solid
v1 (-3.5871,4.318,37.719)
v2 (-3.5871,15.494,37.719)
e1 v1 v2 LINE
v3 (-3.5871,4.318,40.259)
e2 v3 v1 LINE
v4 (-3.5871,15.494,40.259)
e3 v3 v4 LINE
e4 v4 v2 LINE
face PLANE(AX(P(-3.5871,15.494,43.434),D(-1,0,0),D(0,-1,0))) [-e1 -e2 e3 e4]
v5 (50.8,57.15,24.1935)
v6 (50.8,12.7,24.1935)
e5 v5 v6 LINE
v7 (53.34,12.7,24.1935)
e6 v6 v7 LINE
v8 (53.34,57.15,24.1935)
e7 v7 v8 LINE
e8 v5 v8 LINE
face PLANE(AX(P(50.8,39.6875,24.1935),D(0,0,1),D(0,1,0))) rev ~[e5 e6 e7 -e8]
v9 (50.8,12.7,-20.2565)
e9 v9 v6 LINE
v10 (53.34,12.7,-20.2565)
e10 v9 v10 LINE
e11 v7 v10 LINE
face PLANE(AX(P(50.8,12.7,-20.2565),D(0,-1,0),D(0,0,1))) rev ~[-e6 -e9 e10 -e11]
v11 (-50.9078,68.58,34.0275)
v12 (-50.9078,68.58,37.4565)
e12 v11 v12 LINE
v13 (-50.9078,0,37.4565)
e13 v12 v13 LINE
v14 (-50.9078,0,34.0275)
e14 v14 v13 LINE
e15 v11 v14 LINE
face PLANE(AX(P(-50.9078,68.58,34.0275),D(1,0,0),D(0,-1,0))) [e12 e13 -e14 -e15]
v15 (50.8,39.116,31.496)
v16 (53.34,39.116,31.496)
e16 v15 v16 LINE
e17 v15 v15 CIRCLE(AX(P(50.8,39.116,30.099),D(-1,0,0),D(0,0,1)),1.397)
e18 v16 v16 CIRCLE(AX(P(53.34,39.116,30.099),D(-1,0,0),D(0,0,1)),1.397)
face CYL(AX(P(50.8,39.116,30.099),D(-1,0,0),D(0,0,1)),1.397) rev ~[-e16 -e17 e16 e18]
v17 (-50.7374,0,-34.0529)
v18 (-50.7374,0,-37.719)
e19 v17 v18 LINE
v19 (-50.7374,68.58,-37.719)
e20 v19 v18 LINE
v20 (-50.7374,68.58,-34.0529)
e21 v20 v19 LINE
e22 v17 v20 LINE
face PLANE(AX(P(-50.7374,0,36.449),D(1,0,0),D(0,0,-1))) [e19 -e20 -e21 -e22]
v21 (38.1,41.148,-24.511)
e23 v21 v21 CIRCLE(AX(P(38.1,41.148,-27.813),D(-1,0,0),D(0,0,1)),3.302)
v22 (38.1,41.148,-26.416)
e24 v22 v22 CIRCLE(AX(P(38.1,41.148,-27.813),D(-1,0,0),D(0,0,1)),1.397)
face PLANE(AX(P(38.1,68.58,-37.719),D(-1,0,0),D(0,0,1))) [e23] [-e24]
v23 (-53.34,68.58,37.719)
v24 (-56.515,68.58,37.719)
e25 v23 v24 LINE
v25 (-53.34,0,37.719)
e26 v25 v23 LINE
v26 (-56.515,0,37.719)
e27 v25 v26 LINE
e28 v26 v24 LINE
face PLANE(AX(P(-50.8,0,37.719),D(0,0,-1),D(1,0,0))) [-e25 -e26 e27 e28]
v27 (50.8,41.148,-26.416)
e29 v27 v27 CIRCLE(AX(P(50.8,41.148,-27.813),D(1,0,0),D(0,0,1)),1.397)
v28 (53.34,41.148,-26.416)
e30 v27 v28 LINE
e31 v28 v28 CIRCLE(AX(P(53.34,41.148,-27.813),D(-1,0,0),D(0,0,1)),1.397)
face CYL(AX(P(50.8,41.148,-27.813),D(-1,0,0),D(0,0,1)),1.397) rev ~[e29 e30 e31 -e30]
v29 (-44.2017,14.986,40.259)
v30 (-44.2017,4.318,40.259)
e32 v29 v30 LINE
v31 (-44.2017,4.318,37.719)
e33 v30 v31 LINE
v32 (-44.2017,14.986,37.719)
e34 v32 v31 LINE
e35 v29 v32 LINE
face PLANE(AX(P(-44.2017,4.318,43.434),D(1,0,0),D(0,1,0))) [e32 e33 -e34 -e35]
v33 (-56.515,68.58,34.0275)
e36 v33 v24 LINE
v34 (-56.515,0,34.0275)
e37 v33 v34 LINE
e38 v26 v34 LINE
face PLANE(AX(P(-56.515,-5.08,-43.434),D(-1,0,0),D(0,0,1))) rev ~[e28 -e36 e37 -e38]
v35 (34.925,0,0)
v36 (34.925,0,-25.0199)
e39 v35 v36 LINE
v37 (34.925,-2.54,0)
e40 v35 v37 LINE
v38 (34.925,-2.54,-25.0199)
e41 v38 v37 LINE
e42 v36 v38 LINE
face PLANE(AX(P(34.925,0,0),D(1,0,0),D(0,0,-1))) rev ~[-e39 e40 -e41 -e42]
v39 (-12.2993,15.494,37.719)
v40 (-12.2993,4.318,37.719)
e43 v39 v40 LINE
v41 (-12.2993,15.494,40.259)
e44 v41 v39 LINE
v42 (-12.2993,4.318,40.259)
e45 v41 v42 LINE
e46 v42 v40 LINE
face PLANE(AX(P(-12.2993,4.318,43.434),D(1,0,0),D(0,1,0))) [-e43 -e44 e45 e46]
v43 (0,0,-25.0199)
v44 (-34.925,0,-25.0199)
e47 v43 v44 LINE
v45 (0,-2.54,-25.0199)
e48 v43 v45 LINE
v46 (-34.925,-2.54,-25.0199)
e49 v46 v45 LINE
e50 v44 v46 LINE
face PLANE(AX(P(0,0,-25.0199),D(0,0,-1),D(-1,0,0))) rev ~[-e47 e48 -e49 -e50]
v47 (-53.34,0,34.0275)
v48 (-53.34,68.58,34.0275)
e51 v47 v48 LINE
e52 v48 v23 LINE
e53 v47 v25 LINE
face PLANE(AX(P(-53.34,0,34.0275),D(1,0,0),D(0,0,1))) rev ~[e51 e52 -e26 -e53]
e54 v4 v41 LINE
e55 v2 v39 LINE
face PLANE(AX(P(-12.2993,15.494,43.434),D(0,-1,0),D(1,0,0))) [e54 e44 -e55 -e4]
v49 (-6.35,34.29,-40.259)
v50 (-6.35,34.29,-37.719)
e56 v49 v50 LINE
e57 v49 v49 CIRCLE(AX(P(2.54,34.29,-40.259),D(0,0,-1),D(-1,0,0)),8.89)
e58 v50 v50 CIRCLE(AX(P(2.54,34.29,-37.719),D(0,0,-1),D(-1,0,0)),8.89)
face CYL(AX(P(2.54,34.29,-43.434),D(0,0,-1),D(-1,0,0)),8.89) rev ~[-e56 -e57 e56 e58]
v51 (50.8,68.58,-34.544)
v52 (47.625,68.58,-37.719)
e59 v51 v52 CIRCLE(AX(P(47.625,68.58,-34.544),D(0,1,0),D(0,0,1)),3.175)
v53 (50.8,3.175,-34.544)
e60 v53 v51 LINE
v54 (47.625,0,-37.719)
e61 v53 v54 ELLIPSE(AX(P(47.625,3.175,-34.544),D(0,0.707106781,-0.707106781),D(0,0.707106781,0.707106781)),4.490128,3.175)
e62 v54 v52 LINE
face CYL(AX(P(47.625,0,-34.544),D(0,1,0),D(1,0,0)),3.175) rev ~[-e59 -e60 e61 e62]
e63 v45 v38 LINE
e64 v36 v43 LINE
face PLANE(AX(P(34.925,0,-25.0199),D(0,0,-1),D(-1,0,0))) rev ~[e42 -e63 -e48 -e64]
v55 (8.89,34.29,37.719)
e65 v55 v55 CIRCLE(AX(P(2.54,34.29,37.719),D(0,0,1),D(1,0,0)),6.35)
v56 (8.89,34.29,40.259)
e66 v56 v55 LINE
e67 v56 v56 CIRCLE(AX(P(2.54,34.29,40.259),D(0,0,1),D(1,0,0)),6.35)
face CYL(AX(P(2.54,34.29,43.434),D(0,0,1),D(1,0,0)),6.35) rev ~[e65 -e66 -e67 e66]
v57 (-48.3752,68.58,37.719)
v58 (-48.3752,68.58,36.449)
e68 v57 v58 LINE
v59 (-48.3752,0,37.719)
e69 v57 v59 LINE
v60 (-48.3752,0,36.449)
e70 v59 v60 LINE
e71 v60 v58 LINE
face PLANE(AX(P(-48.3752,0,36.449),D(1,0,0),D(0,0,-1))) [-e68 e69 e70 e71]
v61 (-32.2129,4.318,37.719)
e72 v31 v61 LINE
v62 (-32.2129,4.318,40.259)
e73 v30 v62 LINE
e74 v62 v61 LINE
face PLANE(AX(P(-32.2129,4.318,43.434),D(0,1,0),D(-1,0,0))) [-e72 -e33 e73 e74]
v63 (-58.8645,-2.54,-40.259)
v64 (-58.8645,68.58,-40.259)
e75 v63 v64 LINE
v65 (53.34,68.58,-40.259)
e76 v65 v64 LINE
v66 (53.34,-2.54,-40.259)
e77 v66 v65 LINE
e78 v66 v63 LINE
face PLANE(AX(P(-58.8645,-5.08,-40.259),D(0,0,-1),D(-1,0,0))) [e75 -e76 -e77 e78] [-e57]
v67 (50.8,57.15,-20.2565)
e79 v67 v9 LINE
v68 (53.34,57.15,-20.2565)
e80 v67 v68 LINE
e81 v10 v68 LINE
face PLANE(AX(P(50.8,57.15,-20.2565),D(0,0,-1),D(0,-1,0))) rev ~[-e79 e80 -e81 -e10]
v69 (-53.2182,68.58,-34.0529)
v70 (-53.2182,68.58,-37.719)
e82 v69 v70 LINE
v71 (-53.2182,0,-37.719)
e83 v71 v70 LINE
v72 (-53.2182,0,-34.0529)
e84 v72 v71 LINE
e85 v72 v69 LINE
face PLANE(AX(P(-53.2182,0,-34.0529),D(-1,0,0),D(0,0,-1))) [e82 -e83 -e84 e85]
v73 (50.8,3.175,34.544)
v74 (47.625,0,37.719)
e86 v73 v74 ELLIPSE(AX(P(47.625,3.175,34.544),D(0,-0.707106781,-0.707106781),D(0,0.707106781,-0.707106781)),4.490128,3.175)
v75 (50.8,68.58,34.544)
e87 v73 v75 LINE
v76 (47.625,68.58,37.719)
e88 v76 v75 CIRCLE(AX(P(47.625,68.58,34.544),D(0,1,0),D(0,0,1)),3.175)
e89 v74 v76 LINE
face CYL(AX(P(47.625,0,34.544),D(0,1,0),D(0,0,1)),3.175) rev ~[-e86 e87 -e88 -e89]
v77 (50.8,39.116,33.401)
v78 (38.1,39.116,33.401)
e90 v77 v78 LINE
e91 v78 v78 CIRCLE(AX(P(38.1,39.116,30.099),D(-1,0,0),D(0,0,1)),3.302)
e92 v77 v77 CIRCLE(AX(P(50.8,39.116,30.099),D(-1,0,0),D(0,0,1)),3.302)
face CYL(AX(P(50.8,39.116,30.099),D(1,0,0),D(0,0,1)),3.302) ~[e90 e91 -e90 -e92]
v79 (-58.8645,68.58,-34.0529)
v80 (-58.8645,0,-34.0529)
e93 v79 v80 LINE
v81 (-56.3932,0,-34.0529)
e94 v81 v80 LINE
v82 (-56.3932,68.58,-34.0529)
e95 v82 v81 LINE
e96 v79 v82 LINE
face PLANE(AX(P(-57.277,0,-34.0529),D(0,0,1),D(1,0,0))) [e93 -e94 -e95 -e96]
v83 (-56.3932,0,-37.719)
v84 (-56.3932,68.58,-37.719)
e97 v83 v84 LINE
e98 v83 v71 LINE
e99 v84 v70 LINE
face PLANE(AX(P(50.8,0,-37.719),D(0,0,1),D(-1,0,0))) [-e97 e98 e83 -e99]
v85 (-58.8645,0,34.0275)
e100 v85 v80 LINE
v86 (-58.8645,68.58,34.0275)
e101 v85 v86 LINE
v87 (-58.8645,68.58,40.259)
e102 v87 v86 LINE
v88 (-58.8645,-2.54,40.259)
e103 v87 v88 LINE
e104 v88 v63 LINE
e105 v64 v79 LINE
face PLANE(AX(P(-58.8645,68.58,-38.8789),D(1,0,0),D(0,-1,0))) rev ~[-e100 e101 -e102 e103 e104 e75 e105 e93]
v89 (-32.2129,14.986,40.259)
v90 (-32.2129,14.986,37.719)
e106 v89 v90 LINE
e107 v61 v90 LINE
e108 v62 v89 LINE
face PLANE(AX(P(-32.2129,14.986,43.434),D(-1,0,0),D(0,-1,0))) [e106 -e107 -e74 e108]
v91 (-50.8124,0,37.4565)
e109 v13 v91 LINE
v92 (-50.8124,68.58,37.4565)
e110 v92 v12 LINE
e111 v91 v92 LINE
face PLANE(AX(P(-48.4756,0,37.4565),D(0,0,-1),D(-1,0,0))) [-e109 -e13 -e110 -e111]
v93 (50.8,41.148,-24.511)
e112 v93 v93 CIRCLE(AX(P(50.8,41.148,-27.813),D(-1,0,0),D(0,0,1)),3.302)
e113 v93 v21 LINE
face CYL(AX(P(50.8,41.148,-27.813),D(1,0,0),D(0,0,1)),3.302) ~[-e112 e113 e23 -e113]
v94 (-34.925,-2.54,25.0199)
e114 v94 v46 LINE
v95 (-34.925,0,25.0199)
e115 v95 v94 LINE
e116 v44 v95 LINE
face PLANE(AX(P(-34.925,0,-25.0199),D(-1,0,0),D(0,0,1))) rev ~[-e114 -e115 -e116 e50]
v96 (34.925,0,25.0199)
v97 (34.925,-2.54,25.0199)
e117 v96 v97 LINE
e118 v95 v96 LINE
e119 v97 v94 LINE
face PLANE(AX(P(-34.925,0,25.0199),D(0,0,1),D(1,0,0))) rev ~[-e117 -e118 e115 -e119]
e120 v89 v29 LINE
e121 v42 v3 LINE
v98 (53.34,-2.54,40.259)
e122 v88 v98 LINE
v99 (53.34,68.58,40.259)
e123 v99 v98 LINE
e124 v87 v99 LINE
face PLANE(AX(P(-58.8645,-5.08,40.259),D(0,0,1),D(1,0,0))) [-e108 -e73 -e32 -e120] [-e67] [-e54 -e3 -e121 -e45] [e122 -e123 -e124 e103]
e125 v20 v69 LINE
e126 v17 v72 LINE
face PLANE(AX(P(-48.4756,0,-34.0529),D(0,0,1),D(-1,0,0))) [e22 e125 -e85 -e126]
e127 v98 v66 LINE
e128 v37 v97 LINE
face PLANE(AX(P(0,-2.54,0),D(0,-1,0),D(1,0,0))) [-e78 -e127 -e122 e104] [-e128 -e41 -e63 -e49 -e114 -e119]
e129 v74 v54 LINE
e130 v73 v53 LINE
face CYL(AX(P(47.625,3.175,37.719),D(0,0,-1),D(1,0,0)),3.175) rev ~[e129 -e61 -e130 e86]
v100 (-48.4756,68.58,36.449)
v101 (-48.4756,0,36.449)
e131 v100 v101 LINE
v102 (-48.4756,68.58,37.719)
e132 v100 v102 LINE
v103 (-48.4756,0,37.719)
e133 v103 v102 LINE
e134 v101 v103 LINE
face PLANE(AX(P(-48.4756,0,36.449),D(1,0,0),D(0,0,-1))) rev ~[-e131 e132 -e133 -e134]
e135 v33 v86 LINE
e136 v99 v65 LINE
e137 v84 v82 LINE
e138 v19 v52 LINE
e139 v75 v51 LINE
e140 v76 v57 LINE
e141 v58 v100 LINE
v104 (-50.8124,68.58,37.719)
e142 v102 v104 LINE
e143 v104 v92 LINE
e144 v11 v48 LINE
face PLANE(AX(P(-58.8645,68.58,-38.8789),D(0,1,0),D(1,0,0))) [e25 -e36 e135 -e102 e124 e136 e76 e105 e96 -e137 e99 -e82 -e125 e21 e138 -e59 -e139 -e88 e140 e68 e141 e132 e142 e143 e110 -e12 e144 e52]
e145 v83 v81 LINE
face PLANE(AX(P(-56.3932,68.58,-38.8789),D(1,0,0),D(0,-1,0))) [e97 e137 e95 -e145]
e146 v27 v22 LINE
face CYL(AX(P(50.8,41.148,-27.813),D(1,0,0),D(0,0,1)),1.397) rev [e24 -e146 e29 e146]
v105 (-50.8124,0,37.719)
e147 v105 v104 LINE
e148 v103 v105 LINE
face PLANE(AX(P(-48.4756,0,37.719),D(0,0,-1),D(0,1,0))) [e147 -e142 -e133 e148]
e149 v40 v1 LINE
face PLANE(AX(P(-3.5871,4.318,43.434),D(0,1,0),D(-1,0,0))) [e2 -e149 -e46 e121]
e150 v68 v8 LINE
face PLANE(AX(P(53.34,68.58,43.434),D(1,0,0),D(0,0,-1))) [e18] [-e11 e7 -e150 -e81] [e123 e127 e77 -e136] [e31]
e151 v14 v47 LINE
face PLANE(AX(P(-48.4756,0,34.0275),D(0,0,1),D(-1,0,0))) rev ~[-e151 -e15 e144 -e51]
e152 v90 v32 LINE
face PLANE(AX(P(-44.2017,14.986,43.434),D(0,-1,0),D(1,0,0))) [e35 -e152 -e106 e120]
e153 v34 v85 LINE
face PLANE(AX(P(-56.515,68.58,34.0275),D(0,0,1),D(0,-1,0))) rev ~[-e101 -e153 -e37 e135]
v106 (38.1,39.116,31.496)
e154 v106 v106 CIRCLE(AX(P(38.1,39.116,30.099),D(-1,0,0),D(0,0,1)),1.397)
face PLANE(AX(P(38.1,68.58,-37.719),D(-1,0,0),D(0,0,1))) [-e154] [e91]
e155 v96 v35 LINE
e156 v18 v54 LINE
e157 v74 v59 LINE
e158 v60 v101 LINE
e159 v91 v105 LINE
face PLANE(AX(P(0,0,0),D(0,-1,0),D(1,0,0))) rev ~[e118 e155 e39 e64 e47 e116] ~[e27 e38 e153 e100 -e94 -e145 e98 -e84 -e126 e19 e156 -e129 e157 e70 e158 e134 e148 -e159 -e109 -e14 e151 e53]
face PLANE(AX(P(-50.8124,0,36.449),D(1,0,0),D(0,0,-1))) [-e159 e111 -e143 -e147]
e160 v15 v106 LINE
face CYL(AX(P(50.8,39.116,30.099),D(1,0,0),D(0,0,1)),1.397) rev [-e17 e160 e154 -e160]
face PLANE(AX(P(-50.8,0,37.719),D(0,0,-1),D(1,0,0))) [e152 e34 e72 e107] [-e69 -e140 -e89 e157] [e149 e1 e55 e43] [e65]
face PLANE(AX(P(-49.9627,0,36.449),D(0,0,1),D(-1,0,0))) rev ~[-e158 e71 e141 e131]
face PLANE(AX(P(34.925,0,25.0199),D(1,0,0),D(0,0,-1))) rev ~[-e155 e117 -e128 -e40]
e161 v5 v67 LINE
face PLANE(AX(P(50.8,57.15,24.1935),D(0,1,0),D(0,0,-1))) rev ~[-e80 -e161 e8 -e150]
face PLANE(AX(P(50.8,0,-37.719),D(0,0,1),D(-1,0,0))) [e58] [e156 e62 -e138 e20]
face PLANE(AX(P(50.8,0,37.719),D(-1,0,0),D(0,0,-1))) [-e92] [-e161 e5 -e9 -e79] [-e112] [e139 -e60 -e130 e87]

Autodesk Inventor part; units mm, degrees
ref_plane "YZ Plane" through (0, 0, 0) normal (1, 0, 0) x (0, 1, 0)
ref_plane "XZ Plane" through (0, 0, 0) normal (0, 1, 0) x (-1, 0, 0)
ref_plane "XY Plane" through (0, 0, 0) normal (0, 0, 1) x (1, 0, 0)
sketch "Sketch1" plane through (0, 0, 0) normal (0, 1, 0) x (-1, 0, 0)
  line L0 (50.8, 37.719) -> (-50.8, 37.719)
  line L1 (-50.8, 37.719) -> (-50.8, -37.719)
  line L2 (-50.8, -37.719) -> (50.8, -37.719)
  line L3 (50.8, -37.719) -> (50.8, 37.719)
  line L4 (50.8, 37.719) -> (-50.8, -37.719) construction
  line L5 (-50.8, 37.719) -> (50.8, -37.719) construction
  line L6 (56.515, 43.434) -> (-56.515, 43.434)
  line L7 (-56.515, 43.434) -> (-56.515, -43.434)
  line L8 (-56.515, -43.434) -> (56.515, -43.434)
  line L9 (56.515, -43.434) -> (56.515, 43.434)
  line L10 (56.515, 43.434) -> (-56.515, -43.434) construction
  line L11 (-56.515, 43.434) -> (56.515, -43.434) construction
  point P0 (0, 0)
  dimension "d0" = 101.6
  dimension "d1" = 75.438
  dimension "d2" = 113.03
  dimension "d3" = 86.868
extrude "Extrusion1" add sketch "Sketch1" along normal blind 68.58
sketch "Sketch2" plane through (0, 0, 0) normal (0, -1, 0) x (1, 0, 0)
  line L0 (-50.8, 37.719) -> (50.8, 37.719) projected
  line L1 (-50.8, 37.719) -> (-41.656, 37.719)
  line L2 (-50.8, 37.719) -> (-50.8, -37.719) projected
  line L3 (-41.656, 37.719) -> (-50.8, 37.719)
  line L4 (-50.8, 37.719) -> (-41.656, 37.719)
  point P0 (0, 0)
  dimension "d6" = 9.144
sketch "Sketch3" plane through (-56.515, 0, 43.434) normal (0, 0, 1) x (1, 0, 0)
  line L0 (12.3133, 0) -> (12.3133, 10.668)
  line L1 (12.3133, 10.668) -> (12.3133, 14.986)
  line L2 (12.3133, 14.986) -> (24.3021, 14.986)
  line L3 (24.3021, 14.986) -> (24.3021, 4.318)
  line L4 (24.3021, 4.318) -> (12.3133, 4.318)
  line L5 (0, 0) -> (113.03, 0) projected
  line L6 (24.3021, 4.318) -> (44.2157, 4.318)
  line L7 (44.2157, 4.318) -> (44.2157, 15.494)
  line L8 (44.2157, 15.494) -> (52.9279, 15.494)
  line L9 (52.9279, 15.494) -> (52.9279, 4.318)
  line L10 (52.9279, 4.318) -> (44.2157, 4.318)
  point P0 (56.515, 0)
  dimension "d7" = 10.668
  dimension "d8" = 4.318
  dimension "d9" = 11.9888
  dimension "d10" = 10.668
  dimension "d11" = 19.9136
  dimension "d12" = 11.176
  dimension "d13" = 8.7122
extrude "Extrusion2" cut sketch "Sketch3" against normal blind 68.58
sketch "Sketch4" plane through (50.8, 0, 37.719) normal (-1, 0, 0) x (0, 0, 1)
  line L0 (0, 0) -> (-75.438, 0) projected
  line L1 (-75.438, 0) -> (-34.29, 0)
  line L2 (-34.29, 0) -> (-75.438, 0)
  line L3 (-75.438, 0) -> (-75.438, 68.58) projected
  line L4 (-75.438, 0) -> (-75.438, 41.148)
  line L5 (-75.438, 41.148) -> (-65.532, 41.148)
  line L6 (-65.532, 41.148) -> (-75.438, 41.148)
  line L7 (0, 0) -> (0, 68.58) projected
  line L8 (0, 68.58) -> (0, 39.116)
  line L9 (0, 39.116) -> (0, 46.736)
  line L10 (0, 46.736) -> (0, 39.116)
  line L11 (0, 39.116) -> (-7.62, 39.116)
  line L12 (-7.62, 39.116) -> (0, 39.116)
  circle A0 centre (-7.62, 39.116) radius 1.397
  circle A1 centre (-65.532, 41.148) radius 1.397
  point P0 (-37.719, 0)
  dimension "d16" = 41.148
  dimension "d17" = 41.148
  dimension "d18" = 9.906
  dimension "d19" = 29.464
  dimension "d20" = 7.62
  dimension "d21" = 7.62
  dimension "d22" = 2.794
  dimension "d23" = 2.794
extrude "Extrusion3" cut sketch "Sketch4" against normal blind 68.58
sketch "Sketch5" plane through (-56.515, 0, 43.434) normal (0, 0, 1) x (1, 0, 0)
  point P0 (56.515, 0)
sketch "Sketch6" plane through (-56.515, 0, 43.434) normal (0, 0, 1) x (1, 0, 0)
  line L0 (0, 0) -> (0, 68.58) projected
  line L1 (113.03, 0) -> (113.03, 68.58) projected
  line L2 (0, 68.58) -> (113.03, 0)
  line L3 (113.03, 0) -> (0, 68.58)
  line L4 (0, 68.58) -> (113.03, 68.58) projected
  line L5 (113.03, 68.58) -> (5.08, 0)
  line L6 (5.08, 0) -> (113.03, 68.58)
  circle A0 centre (59.055, 34.29) radius 6.35
  point P0 (56.515, 0)
  dimension "d26" = 12.7
extrude "Extrusion4" cut sketch "Sketch6" against normal blind 109.855 contours A0 L5 L2 | L2 L5 A0 | L5 L2 A0 | L5 A0 L2
sketch "Sketch7" plane through (0, 0, 0) normal (0, -1, 0) x (1, 0, 0)
  line L0 (-56.515, 43.434) -> (56.515, 43.434) projected
  line L1 (56.515, 43.434) -> (56.515, -43.434) projected
  line L2 (-56.515, 43.434) -> (56.515, 43.434)
  line L3 (56.515, 43.434) -> (56.515, -43.434)
  line L4 (56.515, -43.434) -> (-56.515, -43.434)
  line L5 (-56.515, -43.434) -> (-56.515, 43.434)
  point P0 (0, 0)
extrude "Extrusion5" add sketch "Sketch7" along normal blind 5.08
sketch "Sketch9" plane through (0, 68.58, 0) normal (0, 1, 0) x (1, 0, 0)
  point P0 (0, 0)
sketch "Sketch10" plane through (50.8, 68.58, -37.719) normal (-1, 0, 0) x (0, 0, 1)
  circle A0 centre (67.818, -29.464) radius 1.397 projected
  circle A1 centre (67.818, -29.464) radius 3.302
  circle A2 centre (9.906, -27.432) radius 1.397 projected
  circle A3 centre (9.906, -27.432) radius 3.302
  point P0 (37.719, -68.58)
  dimension "d36" = 6.604
  dimension "d37" = 6.604
extrude "Extrusion7" add sketch "Sketch10" along normal blind 12.7
sketch "Sketch11" plane through (-56.515, 68.58, -43.434) normal (-1, 0, 0) x (0, 0, 1)
  line L0 (5.715, -68.58) -> (5.715, 0) projected
  line L1 (81.153, -68.58) -> (81.153, 0) projected
  line L2 (5.715, 0) -> (81.153, 0)
  line L3 (81.153, 0) -> (81.153, -68.58)
  line L4 (81.153, -68.58) -> (5.715, -68.58)
  line L5 (5.715, -68.58) -> (5.715, 0)
  point P0 (43.434, -68.58)
extrude "Extrusion8" cut sketch "Sketch11" against normal blind 12.7
fillet "Fillet2" radius 3.175 3 edges at (50.8, 34.29, -37.719) (50.8, 0, 0) (50.8, 34.29, 37.719)
sketch "Sketch12" plane through (56.515, 68.58, -43.434) normal (0, 0, -1) x (-1, 0, 0)
  circle A0 centre (53.975, -34.29) radius 4.445
  circle A1 centre (53.975, -34.29) radius 8.89
  circle A2 centre (53.975, -34.29) radius 6.35 projected
  point P0 (56.515, -68.58)
  dimension "d43" = 8.89
  dimension "d44" = 17.78
extrude "Extrusion9" cut sketch "Sketch12" against normal blind 12.7 contours A1
sketch "Sketch13" plane through (0, 0, 0) normal (0, 1, 0) x (1, 0, 0)
  line L0 (-56.515, 37.719) -> (47.625, 37.719) projected
  line L1 (-50.7189, 37.719) -> (-49.9627, 37.719)
  line L2 (-49.9627, 37.719) -> (-49.9627, 36.449)
  line L3 (-49.9627, 36.449) -> (-50.7189, 36.449)
  line L4 (-50.7189, 36.449) -> (-50.7189, 37.719)
  line L5 (-56.515, -37.719) -> (47.625, -37.719) projected
  line L6 (-50.7189, -37.719) -> (-49.9627, -37.719)
  line L7 (-49.9627, -37.719) -> (-49.9627, -36.449)
  line L8 (-49.9627, -36.449) -> (-50.7189, -36.449)
  line L9 (-50.7189, -36.449) -> (-50.7189, -37.719)
  point P0 (0, 0)
  dimension "d47" = 1.27
  dimension "d48" = 1.27
extrude "Extrusion10" add sketch "Sketch13" along normal blind 68.58
sketch "Sketch14" plane through (-56.515, -5.08, -43.434) normal (-1, 0, 0) x (0, 0, 1)
  point P0 (43.434, 5.08)
sketch "Sketch15" plane through (-56.515, -5.08, -43.434) normal (-1, 0, 0) x (0, 0, 1)
  line L0 (0, 73.66) -> (5.715, 73.66) projected
  line L1 (86.868, 0) -> (0, 0) projected
  line L2 (0, 73.66) -> (4.5789, 73.66)
  line L3 (4.5789, 73.66) -> (4.5789, 0)
  line L4 (4.5789, 0) -> (0, 0)
  line L5 (0, 0) -> (0, 73.66)
  line L6 (81.153, 73.66) -> (86.868, 73.66) projected
  line L7 (86.868, 73.66) -> (77.4615, 73.66)
  line L8 (77.4615, 73.66) -> (77.4615, 0)
  line L9 (77.4615, 0) -> (86.868, 0)
  line L10 (86.868, 0) -> (86.868, 73.66)
  line L11 (4.5789, 0) -> (77.4615, 0)
  line L12 (77.4615, 0) -> (77.4615, 5.08)
  line L13 (77.4615, 5.08) -> (4.5789, 5.08)
  line L14 (4.5789, 5.08) -> (4.5789, 0)
  point P0 (43.434, 5.08)
extrude "Extrusion11" add sketch "Sketch15" along normal blind 0.762
sketch "Sketch16" plane through (-57.277, -5.08, -43.434) normal (-1, 0, 0) x (0, 0, 1)
  line L0 (0, 0) -> (86.868, 0) projected
  line L1 (0, 73.66) -> (4.5551, 73.66)
  line L2 (4.5551, 73.66) -> (4.5551, 0)
  line L3 (4.5551, 0) -> (0, 0)
  line L4 (0, 0) -> (0, 73.66)
  line L5 (86.868, 73.66) -> (77.4615, 73.66) projected
  line L6 (86.868, 0) -> (86.868, 73.66) projected
  line L7 (77.4615, 73.66) -> (86.868, 73.66)
  line L8 (86.868, 73.66) -> (86.868, 0)
  line L9 (86.868, 0) -> (77.4615, 0)
  line L10 (77.4615, 0) -> (77.4615, 73.66)
  line L11 (79.883, 5.08) -> (81.153, 5.08) projected
  line L12 (79.883, 5.08) -> (4.5551, 5.08)
  line L13 (4.5551, 5.08) -> (4.5551, 0)
  line L14 (4.5551, 0) -> (79.883, 0)
  line L15 (79.883, 0) -> (79.883, 5.08)
  point P0 (43.434, 5.08)
extrude "Extrusion12" add sketch "Sketch16" along normal blind 1.5875
sketch "Sketch17" plane through (-49.9627, 0, 36.449) normal (1, 0, 0) x (0, 0, -1)
  line L0 (-1.27, 68.58) -> (0, 68.58) projected
  line L1 (0, 68.58) -> (-1.27, 68.58)
  line L2 (-1.27, 68.58) -> (-1.27, 0)
  line L3 (-1.27, 0) -> (0, 0)
  line L4 (0, 0) -> (0, 68.58)
  line L5 (74.168, 0) -> (72.898, 0) projected
  line L6 (72.898, 0) -> (72.898, 68.58) projected
  line L7 (74.168, 0) -> (72.898, 0)
  line L8 (72.898, 0) -> (72.898, 68.58)
  line L9 (72.898, 68.58) -> (74.168, 68.58)
  line L10 (74.168, 68.58) -> (74.168, 0)
  point P0 (36.449, 0)
extrude "Extrusion13" add sketch "Sketch17" along normal blind 1.5875
sketch "Sketch18" plane through (-50.7189, 0, -36.449) normal (-1, 0, 0) x (0, 0, 1)
  point P0 (36.449, 0)
sketch "Sketch19" plane through (-57.277, 0, -38.8789) normal (0, 0, 1) x (1, 0, 0)
  line L0 (-1.5875, 68.58) -> (-1.5875, -5.08) projected
  line L1 (-1.5875, 68.58) -> (0.8838, 68.58)
  line L2 (0.8838, 68.58) -> (0.8838, 0)
  line L3 (0.8838, 0) -> (-1.5875, 0)
  line L4 (-1.5875, 0) -> (-1.5875, 68.58)
  point P0 (57.277, 0)
extrude "Extrusion14" add sketch "Sketch19" along normal blind 4.826
sketch "Sketch20" plane through (0, 68.58, 0) normal (0, 1, 0) x (1, 0, 0)
  point P0 (0, 0)
sketch "Sketch21" plane through (0, 0, 0) normal (0, 1, 0) x (1, 0, 0)
  line L0 (-56.515, -37.719) -> (-56.515, -34.0275) projected
  line L1 (-56.515, -37.719) -> (-53.34, -37.719)
  line L2 (-50.7189, -37.719) -> (-56.515, -37.719) projected
  line L3 (-53.34, -37.719) -> (-56.515, -37.719)
  line L4 (-56.3932, 37.719) -> (-56.3932, 34.0529) projected
  line L5 (-56.3932, 37.719) -> (-53.2182, 37.719)
  line L6 (-56.3932, 37.719) -> (-50.7189, 37.719) projected
  line L7 (-53.2182, 37.719) -> (-56.3932, 37.719)
  line L8 (-53.2182, 37.719) -> (-48.4756, 37.719)
  line L9 (-48.4756, 37.719) -> (-48.4756, 34.0529)
  line L10 (-48.4756, 34.0529) -> (-53.2182, 34.0529)
  line L11 (-53.2182, 34.0529) -> (-53.2182, 37.719)
  line L12 (-53.34, -37.719) -> (-48.4756, -37.719)
  line L13 (-48.4756, -37.719) -> (-48.4756, -34.0275)
  line L14 (-48.4756, -34.0275) -> (-53.34, -34.0275)
  line L15 (-53.34, -34.0275) -> (-53.34, -37.719)
  point P0 (0, 0)
  dimension "d59" = 3.175
  dimension "d60" = 3.175
extrude "Extrusion15" add sketch "Sketch21" along normal blind 68.58
sketch "Sketch22" plane through (56.515, 68.58, 43.434) normal (1, 0, 0) x (0, 0, -1)
  line L0 (-54.4195, 28.575) -> (141.2875, 28.575)
  line L1 (141.2875, 28.575) -> (141.2875, -95.25)
  line L2 (141.2875, -95.25) -> (-54.4195, -95.25)
  line L3 (-54.4195, -95.25) -> (-54.4195, 28.575)
  line L4 (-54.4195, 28.575) -> (141.2875, -95.25) construction
  line L5 (141.2875, 28.575) -> (-54.4195, -95.25) construction
  point P0 (43.434, -68.58)
  point P1 (43.434, -33.3375)
extrude "Extrusion16" cut sketch "Sketch22" against normal blind 3.175
sketch "Sketch23" plane through (-58.8645, -5.08, -43.434) normal (0, 0, -1) x (-1, 0, 0)
  line L0 (38.1, 96.8375) -> (-133.35, 96.8375)
  line L1 (-133.35, 96.8375) -> (-133.35, -20.6375)
  line L2 (-133.35, -20.6375) -> (38.1, -20.6375)
  line L3 (38.1, -20.6375) -> (38.1, 96.8375)
  line L4 (38.1, 96.8375) -> (-133.35, -20.6375) construction
  line L5 (-133.35, 96.8375) -> (38.1, -20.6375) construction
  point P0 (-58.8645, 5.08)
  point P1 (-47.625, 38.1)
extrude "Extrusion17" cut sketch "Sketch23" against normal blind 3.175
sketch "Sketch24" plane through (-58.8645, -5.08, 43.434) normal (0, 0, 1) x (1, 0, 0)
  line L0 (-38.1, -30.1625) -> (130.175, -30.1625)
  line L1 (130.175, -30.1625) -> (130.175, 109.5375)
  line L2 (130.175, 109.5375) -> (-38.1, 109.5375)
  line L3 (-38.1, 109.5375) -> (-38.1, -30.1625)
  line L4 (-38.1, -30.1625) -> (130.175, 109.5375) construction
  line L5 (130.175, -30.1625) -> (-38.1, 109.5375) construction
  point P0 (58.8645, 5.08)
  point P1 (46.0375, 39.6875)
extrude "Extrusion18" cut sketch "Sketch24" against normal blind 3.175
sketch "Sketch25" plane through (0, -5.08, 0) normal (0, -1, 0) x (1, 0, 0)
  line L0 (73.025, 84.1375) -> (-73.025, 84.1375)
  line L1 (-73.025, 84.1375) -> (-73.025, -84.1375)
  line L2 (-73.025, -84.1375) -> (73.025, -84.1375)
  line L3 (73.025, -84.1375) -> (73.025, 84.1375)
  line L4 (73.025, 84.1375) -> (-73.025, -84.1375) construction
  line L5 (-73.025, 84.1375) -> (73.025, -84.1375) construction
  point P0 (0, 0)
extrude "Extrusion19" cut sketch "Sketch25" against normal blind 2.54
sketch "Sketch26" plane through (-48.4756, 0, 36.449) normal (1, 0, 0) x (0, 0, -1)
  line L0 (0, 68.58) -> (-1.27, 68.58) projected
  line L1 (2.3883, 0) -> (-1.27, 0)
  line L2 (-1.27, 0) -> (-1.27, 68.58)
  line L3 (-1.27, 68.58) -> (2.3883, 68.58)
  line L4 (2.3883, 68.58) -> (2.3883, 0)
  point P0 (36.449, 0)
extrude "Extrusion20" cut sketch "Sketch26" against normal blind 2.3368
sketch "Sketch27" plane through (-48.4756, 0, 34.0275) normal (0, 0, -1) x (-1, 0, 0)
  line L0 (4.8644, 0) -> (0, 0) projected
  line L1 (0, 0) -> (0, 68.58) projected
  line L2 (2.4322, 0) -> (0, 0)
  line L3 (0, 0) -> (0, 68.58)
  line L4 (0, 68.58) -> (2.4322, 68.58)
  line L5 (2.4322, 68.58) -> (2.4322, 0)
  point P0 (-48.4756, 0)
extrude "Extrusion21" cut sketch "Sketch27" against normal blind 3.429
sketch "Sketch28" plane through (-48.3752, 0, 36.449) normal (1, 0, 0) x (0, 0, -1)
  line L0 (74.168, 0) -> (72.898, 0) projected
  line L1 (70.5019, 68.58) -> (72.898, 68.58) projected
  line L2 (74.168, 0) -> (70.5019, 0)
  line L3 (70.5019, 0) -> (70.5019, 68.58)
  line L4 (70.5019, 68.58) -> (74.168, 68.58)
  line L5 (74.168, 68.58) -> (74.168, 0)
  point P0 (36.449, 0)
extrude "Extrusion22" cut sketch "Sketch28" against normal blind 2.3622
sketch "Sketch29" plane through (0, 0, 0) normal (0, 1, 0) x (1, 0, 0)
  line L0 (-44.45, -31.75) -> (-44.45, 31.75)
  line L1 (44.45, -31.75) -> (-44.45, 31.75) construction
  line L2 (-44.45, -31.75) -> (44.45, 31.75) construction
  line L3 (-50.7374, 37.719) -> (47.625, 37.719) projected
  line L4 (0, 37.719) -> (-12.7, 37.719)
  line L5 (-12.7, 37.719) -> (0, 37.719)
  line L6 (0, 37.719) -> (0, 25.019)
  line L7 (0, 25.019) -> (0, 37.719)
  line L8 (47.625, 37.719) -> (47.625, -37.719) projected
  line L9 (47.625, 0) -> (34.925, 0)
  line L10 (34.925, 0) -> (47.625, 0)
  line L11 (47.625, 0) -> (34.925, 0)
  line L12 (47.625, 0) -> (34.925, 0)
  line L13 (47.625, 0) -> (34.925, 0)
  line L14 (47.625, 0) -> (34.925, 0)
  line L15 (28.575, 63.5) -> (49.2125, 49.2125)
  line L16 (49.2125, 49.2125) -> (34.925, 72.6722)
  line L17 (34.925, 72.6722) -> (28.575, 63.5)
  line L18 (34.925, 0) -> (47.625, 0)
  line L19 (34.925, 0) -> (46.829, 0)
  line L20 (34.925, 0) -> (47.625, 0)
  line L21 (34.925, 0) -> (45.6543, -4.5983)
  line L22 (45.6543, -4.5983) -> (47.625, 0)
  line L23 (34.925, 0) -> (47.625, 0)
  line L24 (-34.925, -24.9464) -> (34.925, -24.9464)
  line L25 (34.925, -24.9464) -> (34.925, 24.9464)
  line L26 (34.925, 24.9464) -> (-34.925, 24.9464)
  line L27 (-34.925, 24.9464) -> (-34.925, -24.9464)
  line L28 (-34.925, -24.9464) -> (34.925, 24.9464) construction
  line L29 (34.925, -24.9464) -> (-34.925, 24.9464) construction
  point P0 (0, 0)
  dimension "d79" = 12.7
  dimension "d80" = 12.7
extrude "Extrusion23" [suppressed]
sketch "Sketch30" plane through (0, 0, 0) normal (0, 1, 0) x (1, 0, 0)
  line L0 (-50.7374, 37.719) -> (47.625, 37.719) projected
  line L1 (0, 37.719) -> (0, 25.0199)
  line L2 (0, 25.0199) -> (0, 37.719)
  line L3 (47.625, 0) -> (34.925, 0)
  line L4 (34.925, 0) -> (47.625, 0)
  line L5 (-34.925, -25.0199) -> (34.925, -25.0199)
  line L6 (34.925, -25.0199) -> (34.925, 25.0199)
  line L7 (34.925, 25.0199) -> (-34.925, 25.0199)
  line L8 (-34.925, 25.0199) -> (-34.925, -25.0199)
  line L9 (-34.925, -25.0199) -> (34.925, 25.0199) construction
  line L10 (34.925, -25.0199) -> (-34.925, 25.0199) construction
  point P0 (0, 0)
extrude "Extrusion24" cut sketch "Sketch30" against normal blind 154.7622
sketch "Sketch31" plane through (50.8, 3.175, -34.544) normal (-1, 0, 0) x (0, 0, 1)
  line L0 (3.175, 38.1) -> (0, 38.1)
  line L1 (0, 38.1) -> (14.2875, 38.1)
  point P0 (34.544, -3.175)
sketch "Sketch32" plane through (50.8, 3.175, -34.544) normal (-1, 0, 0) x (0, 0, 1)
  line L0 (69.088, 65.405) -> (69.088, 0) projected
  line L1 (69.088, 36.2333) -> (58.7375, 36.5125)
  line L2 (58.7375, 36.5125) -> (69.088, 36.2333)
  line L3 (58.7375, 53.975) -> (14.2875, 53.975)
  line L4 (14.2875, 53.975) -> (14.2875, 9.525)
  line L5 (14.2875, 9.525) -> (58.7375, 9.525)
  line L6 (58.7375, 9.525) -> (58.7375, 53.975)
  line L7 (58.7375, 53.975) -> (14.2875, 9.525) construction
  line L8 (14.2875, 53.975) -> (58.7375, 9.525) construction
  point P0 (34.544, -3.175)
  point P1 (36.5125, 31.75)
extrude "Extrusion25" cut sketch "Sketch32" against normal blind 154.7622
properties part number "Boxpt1"
